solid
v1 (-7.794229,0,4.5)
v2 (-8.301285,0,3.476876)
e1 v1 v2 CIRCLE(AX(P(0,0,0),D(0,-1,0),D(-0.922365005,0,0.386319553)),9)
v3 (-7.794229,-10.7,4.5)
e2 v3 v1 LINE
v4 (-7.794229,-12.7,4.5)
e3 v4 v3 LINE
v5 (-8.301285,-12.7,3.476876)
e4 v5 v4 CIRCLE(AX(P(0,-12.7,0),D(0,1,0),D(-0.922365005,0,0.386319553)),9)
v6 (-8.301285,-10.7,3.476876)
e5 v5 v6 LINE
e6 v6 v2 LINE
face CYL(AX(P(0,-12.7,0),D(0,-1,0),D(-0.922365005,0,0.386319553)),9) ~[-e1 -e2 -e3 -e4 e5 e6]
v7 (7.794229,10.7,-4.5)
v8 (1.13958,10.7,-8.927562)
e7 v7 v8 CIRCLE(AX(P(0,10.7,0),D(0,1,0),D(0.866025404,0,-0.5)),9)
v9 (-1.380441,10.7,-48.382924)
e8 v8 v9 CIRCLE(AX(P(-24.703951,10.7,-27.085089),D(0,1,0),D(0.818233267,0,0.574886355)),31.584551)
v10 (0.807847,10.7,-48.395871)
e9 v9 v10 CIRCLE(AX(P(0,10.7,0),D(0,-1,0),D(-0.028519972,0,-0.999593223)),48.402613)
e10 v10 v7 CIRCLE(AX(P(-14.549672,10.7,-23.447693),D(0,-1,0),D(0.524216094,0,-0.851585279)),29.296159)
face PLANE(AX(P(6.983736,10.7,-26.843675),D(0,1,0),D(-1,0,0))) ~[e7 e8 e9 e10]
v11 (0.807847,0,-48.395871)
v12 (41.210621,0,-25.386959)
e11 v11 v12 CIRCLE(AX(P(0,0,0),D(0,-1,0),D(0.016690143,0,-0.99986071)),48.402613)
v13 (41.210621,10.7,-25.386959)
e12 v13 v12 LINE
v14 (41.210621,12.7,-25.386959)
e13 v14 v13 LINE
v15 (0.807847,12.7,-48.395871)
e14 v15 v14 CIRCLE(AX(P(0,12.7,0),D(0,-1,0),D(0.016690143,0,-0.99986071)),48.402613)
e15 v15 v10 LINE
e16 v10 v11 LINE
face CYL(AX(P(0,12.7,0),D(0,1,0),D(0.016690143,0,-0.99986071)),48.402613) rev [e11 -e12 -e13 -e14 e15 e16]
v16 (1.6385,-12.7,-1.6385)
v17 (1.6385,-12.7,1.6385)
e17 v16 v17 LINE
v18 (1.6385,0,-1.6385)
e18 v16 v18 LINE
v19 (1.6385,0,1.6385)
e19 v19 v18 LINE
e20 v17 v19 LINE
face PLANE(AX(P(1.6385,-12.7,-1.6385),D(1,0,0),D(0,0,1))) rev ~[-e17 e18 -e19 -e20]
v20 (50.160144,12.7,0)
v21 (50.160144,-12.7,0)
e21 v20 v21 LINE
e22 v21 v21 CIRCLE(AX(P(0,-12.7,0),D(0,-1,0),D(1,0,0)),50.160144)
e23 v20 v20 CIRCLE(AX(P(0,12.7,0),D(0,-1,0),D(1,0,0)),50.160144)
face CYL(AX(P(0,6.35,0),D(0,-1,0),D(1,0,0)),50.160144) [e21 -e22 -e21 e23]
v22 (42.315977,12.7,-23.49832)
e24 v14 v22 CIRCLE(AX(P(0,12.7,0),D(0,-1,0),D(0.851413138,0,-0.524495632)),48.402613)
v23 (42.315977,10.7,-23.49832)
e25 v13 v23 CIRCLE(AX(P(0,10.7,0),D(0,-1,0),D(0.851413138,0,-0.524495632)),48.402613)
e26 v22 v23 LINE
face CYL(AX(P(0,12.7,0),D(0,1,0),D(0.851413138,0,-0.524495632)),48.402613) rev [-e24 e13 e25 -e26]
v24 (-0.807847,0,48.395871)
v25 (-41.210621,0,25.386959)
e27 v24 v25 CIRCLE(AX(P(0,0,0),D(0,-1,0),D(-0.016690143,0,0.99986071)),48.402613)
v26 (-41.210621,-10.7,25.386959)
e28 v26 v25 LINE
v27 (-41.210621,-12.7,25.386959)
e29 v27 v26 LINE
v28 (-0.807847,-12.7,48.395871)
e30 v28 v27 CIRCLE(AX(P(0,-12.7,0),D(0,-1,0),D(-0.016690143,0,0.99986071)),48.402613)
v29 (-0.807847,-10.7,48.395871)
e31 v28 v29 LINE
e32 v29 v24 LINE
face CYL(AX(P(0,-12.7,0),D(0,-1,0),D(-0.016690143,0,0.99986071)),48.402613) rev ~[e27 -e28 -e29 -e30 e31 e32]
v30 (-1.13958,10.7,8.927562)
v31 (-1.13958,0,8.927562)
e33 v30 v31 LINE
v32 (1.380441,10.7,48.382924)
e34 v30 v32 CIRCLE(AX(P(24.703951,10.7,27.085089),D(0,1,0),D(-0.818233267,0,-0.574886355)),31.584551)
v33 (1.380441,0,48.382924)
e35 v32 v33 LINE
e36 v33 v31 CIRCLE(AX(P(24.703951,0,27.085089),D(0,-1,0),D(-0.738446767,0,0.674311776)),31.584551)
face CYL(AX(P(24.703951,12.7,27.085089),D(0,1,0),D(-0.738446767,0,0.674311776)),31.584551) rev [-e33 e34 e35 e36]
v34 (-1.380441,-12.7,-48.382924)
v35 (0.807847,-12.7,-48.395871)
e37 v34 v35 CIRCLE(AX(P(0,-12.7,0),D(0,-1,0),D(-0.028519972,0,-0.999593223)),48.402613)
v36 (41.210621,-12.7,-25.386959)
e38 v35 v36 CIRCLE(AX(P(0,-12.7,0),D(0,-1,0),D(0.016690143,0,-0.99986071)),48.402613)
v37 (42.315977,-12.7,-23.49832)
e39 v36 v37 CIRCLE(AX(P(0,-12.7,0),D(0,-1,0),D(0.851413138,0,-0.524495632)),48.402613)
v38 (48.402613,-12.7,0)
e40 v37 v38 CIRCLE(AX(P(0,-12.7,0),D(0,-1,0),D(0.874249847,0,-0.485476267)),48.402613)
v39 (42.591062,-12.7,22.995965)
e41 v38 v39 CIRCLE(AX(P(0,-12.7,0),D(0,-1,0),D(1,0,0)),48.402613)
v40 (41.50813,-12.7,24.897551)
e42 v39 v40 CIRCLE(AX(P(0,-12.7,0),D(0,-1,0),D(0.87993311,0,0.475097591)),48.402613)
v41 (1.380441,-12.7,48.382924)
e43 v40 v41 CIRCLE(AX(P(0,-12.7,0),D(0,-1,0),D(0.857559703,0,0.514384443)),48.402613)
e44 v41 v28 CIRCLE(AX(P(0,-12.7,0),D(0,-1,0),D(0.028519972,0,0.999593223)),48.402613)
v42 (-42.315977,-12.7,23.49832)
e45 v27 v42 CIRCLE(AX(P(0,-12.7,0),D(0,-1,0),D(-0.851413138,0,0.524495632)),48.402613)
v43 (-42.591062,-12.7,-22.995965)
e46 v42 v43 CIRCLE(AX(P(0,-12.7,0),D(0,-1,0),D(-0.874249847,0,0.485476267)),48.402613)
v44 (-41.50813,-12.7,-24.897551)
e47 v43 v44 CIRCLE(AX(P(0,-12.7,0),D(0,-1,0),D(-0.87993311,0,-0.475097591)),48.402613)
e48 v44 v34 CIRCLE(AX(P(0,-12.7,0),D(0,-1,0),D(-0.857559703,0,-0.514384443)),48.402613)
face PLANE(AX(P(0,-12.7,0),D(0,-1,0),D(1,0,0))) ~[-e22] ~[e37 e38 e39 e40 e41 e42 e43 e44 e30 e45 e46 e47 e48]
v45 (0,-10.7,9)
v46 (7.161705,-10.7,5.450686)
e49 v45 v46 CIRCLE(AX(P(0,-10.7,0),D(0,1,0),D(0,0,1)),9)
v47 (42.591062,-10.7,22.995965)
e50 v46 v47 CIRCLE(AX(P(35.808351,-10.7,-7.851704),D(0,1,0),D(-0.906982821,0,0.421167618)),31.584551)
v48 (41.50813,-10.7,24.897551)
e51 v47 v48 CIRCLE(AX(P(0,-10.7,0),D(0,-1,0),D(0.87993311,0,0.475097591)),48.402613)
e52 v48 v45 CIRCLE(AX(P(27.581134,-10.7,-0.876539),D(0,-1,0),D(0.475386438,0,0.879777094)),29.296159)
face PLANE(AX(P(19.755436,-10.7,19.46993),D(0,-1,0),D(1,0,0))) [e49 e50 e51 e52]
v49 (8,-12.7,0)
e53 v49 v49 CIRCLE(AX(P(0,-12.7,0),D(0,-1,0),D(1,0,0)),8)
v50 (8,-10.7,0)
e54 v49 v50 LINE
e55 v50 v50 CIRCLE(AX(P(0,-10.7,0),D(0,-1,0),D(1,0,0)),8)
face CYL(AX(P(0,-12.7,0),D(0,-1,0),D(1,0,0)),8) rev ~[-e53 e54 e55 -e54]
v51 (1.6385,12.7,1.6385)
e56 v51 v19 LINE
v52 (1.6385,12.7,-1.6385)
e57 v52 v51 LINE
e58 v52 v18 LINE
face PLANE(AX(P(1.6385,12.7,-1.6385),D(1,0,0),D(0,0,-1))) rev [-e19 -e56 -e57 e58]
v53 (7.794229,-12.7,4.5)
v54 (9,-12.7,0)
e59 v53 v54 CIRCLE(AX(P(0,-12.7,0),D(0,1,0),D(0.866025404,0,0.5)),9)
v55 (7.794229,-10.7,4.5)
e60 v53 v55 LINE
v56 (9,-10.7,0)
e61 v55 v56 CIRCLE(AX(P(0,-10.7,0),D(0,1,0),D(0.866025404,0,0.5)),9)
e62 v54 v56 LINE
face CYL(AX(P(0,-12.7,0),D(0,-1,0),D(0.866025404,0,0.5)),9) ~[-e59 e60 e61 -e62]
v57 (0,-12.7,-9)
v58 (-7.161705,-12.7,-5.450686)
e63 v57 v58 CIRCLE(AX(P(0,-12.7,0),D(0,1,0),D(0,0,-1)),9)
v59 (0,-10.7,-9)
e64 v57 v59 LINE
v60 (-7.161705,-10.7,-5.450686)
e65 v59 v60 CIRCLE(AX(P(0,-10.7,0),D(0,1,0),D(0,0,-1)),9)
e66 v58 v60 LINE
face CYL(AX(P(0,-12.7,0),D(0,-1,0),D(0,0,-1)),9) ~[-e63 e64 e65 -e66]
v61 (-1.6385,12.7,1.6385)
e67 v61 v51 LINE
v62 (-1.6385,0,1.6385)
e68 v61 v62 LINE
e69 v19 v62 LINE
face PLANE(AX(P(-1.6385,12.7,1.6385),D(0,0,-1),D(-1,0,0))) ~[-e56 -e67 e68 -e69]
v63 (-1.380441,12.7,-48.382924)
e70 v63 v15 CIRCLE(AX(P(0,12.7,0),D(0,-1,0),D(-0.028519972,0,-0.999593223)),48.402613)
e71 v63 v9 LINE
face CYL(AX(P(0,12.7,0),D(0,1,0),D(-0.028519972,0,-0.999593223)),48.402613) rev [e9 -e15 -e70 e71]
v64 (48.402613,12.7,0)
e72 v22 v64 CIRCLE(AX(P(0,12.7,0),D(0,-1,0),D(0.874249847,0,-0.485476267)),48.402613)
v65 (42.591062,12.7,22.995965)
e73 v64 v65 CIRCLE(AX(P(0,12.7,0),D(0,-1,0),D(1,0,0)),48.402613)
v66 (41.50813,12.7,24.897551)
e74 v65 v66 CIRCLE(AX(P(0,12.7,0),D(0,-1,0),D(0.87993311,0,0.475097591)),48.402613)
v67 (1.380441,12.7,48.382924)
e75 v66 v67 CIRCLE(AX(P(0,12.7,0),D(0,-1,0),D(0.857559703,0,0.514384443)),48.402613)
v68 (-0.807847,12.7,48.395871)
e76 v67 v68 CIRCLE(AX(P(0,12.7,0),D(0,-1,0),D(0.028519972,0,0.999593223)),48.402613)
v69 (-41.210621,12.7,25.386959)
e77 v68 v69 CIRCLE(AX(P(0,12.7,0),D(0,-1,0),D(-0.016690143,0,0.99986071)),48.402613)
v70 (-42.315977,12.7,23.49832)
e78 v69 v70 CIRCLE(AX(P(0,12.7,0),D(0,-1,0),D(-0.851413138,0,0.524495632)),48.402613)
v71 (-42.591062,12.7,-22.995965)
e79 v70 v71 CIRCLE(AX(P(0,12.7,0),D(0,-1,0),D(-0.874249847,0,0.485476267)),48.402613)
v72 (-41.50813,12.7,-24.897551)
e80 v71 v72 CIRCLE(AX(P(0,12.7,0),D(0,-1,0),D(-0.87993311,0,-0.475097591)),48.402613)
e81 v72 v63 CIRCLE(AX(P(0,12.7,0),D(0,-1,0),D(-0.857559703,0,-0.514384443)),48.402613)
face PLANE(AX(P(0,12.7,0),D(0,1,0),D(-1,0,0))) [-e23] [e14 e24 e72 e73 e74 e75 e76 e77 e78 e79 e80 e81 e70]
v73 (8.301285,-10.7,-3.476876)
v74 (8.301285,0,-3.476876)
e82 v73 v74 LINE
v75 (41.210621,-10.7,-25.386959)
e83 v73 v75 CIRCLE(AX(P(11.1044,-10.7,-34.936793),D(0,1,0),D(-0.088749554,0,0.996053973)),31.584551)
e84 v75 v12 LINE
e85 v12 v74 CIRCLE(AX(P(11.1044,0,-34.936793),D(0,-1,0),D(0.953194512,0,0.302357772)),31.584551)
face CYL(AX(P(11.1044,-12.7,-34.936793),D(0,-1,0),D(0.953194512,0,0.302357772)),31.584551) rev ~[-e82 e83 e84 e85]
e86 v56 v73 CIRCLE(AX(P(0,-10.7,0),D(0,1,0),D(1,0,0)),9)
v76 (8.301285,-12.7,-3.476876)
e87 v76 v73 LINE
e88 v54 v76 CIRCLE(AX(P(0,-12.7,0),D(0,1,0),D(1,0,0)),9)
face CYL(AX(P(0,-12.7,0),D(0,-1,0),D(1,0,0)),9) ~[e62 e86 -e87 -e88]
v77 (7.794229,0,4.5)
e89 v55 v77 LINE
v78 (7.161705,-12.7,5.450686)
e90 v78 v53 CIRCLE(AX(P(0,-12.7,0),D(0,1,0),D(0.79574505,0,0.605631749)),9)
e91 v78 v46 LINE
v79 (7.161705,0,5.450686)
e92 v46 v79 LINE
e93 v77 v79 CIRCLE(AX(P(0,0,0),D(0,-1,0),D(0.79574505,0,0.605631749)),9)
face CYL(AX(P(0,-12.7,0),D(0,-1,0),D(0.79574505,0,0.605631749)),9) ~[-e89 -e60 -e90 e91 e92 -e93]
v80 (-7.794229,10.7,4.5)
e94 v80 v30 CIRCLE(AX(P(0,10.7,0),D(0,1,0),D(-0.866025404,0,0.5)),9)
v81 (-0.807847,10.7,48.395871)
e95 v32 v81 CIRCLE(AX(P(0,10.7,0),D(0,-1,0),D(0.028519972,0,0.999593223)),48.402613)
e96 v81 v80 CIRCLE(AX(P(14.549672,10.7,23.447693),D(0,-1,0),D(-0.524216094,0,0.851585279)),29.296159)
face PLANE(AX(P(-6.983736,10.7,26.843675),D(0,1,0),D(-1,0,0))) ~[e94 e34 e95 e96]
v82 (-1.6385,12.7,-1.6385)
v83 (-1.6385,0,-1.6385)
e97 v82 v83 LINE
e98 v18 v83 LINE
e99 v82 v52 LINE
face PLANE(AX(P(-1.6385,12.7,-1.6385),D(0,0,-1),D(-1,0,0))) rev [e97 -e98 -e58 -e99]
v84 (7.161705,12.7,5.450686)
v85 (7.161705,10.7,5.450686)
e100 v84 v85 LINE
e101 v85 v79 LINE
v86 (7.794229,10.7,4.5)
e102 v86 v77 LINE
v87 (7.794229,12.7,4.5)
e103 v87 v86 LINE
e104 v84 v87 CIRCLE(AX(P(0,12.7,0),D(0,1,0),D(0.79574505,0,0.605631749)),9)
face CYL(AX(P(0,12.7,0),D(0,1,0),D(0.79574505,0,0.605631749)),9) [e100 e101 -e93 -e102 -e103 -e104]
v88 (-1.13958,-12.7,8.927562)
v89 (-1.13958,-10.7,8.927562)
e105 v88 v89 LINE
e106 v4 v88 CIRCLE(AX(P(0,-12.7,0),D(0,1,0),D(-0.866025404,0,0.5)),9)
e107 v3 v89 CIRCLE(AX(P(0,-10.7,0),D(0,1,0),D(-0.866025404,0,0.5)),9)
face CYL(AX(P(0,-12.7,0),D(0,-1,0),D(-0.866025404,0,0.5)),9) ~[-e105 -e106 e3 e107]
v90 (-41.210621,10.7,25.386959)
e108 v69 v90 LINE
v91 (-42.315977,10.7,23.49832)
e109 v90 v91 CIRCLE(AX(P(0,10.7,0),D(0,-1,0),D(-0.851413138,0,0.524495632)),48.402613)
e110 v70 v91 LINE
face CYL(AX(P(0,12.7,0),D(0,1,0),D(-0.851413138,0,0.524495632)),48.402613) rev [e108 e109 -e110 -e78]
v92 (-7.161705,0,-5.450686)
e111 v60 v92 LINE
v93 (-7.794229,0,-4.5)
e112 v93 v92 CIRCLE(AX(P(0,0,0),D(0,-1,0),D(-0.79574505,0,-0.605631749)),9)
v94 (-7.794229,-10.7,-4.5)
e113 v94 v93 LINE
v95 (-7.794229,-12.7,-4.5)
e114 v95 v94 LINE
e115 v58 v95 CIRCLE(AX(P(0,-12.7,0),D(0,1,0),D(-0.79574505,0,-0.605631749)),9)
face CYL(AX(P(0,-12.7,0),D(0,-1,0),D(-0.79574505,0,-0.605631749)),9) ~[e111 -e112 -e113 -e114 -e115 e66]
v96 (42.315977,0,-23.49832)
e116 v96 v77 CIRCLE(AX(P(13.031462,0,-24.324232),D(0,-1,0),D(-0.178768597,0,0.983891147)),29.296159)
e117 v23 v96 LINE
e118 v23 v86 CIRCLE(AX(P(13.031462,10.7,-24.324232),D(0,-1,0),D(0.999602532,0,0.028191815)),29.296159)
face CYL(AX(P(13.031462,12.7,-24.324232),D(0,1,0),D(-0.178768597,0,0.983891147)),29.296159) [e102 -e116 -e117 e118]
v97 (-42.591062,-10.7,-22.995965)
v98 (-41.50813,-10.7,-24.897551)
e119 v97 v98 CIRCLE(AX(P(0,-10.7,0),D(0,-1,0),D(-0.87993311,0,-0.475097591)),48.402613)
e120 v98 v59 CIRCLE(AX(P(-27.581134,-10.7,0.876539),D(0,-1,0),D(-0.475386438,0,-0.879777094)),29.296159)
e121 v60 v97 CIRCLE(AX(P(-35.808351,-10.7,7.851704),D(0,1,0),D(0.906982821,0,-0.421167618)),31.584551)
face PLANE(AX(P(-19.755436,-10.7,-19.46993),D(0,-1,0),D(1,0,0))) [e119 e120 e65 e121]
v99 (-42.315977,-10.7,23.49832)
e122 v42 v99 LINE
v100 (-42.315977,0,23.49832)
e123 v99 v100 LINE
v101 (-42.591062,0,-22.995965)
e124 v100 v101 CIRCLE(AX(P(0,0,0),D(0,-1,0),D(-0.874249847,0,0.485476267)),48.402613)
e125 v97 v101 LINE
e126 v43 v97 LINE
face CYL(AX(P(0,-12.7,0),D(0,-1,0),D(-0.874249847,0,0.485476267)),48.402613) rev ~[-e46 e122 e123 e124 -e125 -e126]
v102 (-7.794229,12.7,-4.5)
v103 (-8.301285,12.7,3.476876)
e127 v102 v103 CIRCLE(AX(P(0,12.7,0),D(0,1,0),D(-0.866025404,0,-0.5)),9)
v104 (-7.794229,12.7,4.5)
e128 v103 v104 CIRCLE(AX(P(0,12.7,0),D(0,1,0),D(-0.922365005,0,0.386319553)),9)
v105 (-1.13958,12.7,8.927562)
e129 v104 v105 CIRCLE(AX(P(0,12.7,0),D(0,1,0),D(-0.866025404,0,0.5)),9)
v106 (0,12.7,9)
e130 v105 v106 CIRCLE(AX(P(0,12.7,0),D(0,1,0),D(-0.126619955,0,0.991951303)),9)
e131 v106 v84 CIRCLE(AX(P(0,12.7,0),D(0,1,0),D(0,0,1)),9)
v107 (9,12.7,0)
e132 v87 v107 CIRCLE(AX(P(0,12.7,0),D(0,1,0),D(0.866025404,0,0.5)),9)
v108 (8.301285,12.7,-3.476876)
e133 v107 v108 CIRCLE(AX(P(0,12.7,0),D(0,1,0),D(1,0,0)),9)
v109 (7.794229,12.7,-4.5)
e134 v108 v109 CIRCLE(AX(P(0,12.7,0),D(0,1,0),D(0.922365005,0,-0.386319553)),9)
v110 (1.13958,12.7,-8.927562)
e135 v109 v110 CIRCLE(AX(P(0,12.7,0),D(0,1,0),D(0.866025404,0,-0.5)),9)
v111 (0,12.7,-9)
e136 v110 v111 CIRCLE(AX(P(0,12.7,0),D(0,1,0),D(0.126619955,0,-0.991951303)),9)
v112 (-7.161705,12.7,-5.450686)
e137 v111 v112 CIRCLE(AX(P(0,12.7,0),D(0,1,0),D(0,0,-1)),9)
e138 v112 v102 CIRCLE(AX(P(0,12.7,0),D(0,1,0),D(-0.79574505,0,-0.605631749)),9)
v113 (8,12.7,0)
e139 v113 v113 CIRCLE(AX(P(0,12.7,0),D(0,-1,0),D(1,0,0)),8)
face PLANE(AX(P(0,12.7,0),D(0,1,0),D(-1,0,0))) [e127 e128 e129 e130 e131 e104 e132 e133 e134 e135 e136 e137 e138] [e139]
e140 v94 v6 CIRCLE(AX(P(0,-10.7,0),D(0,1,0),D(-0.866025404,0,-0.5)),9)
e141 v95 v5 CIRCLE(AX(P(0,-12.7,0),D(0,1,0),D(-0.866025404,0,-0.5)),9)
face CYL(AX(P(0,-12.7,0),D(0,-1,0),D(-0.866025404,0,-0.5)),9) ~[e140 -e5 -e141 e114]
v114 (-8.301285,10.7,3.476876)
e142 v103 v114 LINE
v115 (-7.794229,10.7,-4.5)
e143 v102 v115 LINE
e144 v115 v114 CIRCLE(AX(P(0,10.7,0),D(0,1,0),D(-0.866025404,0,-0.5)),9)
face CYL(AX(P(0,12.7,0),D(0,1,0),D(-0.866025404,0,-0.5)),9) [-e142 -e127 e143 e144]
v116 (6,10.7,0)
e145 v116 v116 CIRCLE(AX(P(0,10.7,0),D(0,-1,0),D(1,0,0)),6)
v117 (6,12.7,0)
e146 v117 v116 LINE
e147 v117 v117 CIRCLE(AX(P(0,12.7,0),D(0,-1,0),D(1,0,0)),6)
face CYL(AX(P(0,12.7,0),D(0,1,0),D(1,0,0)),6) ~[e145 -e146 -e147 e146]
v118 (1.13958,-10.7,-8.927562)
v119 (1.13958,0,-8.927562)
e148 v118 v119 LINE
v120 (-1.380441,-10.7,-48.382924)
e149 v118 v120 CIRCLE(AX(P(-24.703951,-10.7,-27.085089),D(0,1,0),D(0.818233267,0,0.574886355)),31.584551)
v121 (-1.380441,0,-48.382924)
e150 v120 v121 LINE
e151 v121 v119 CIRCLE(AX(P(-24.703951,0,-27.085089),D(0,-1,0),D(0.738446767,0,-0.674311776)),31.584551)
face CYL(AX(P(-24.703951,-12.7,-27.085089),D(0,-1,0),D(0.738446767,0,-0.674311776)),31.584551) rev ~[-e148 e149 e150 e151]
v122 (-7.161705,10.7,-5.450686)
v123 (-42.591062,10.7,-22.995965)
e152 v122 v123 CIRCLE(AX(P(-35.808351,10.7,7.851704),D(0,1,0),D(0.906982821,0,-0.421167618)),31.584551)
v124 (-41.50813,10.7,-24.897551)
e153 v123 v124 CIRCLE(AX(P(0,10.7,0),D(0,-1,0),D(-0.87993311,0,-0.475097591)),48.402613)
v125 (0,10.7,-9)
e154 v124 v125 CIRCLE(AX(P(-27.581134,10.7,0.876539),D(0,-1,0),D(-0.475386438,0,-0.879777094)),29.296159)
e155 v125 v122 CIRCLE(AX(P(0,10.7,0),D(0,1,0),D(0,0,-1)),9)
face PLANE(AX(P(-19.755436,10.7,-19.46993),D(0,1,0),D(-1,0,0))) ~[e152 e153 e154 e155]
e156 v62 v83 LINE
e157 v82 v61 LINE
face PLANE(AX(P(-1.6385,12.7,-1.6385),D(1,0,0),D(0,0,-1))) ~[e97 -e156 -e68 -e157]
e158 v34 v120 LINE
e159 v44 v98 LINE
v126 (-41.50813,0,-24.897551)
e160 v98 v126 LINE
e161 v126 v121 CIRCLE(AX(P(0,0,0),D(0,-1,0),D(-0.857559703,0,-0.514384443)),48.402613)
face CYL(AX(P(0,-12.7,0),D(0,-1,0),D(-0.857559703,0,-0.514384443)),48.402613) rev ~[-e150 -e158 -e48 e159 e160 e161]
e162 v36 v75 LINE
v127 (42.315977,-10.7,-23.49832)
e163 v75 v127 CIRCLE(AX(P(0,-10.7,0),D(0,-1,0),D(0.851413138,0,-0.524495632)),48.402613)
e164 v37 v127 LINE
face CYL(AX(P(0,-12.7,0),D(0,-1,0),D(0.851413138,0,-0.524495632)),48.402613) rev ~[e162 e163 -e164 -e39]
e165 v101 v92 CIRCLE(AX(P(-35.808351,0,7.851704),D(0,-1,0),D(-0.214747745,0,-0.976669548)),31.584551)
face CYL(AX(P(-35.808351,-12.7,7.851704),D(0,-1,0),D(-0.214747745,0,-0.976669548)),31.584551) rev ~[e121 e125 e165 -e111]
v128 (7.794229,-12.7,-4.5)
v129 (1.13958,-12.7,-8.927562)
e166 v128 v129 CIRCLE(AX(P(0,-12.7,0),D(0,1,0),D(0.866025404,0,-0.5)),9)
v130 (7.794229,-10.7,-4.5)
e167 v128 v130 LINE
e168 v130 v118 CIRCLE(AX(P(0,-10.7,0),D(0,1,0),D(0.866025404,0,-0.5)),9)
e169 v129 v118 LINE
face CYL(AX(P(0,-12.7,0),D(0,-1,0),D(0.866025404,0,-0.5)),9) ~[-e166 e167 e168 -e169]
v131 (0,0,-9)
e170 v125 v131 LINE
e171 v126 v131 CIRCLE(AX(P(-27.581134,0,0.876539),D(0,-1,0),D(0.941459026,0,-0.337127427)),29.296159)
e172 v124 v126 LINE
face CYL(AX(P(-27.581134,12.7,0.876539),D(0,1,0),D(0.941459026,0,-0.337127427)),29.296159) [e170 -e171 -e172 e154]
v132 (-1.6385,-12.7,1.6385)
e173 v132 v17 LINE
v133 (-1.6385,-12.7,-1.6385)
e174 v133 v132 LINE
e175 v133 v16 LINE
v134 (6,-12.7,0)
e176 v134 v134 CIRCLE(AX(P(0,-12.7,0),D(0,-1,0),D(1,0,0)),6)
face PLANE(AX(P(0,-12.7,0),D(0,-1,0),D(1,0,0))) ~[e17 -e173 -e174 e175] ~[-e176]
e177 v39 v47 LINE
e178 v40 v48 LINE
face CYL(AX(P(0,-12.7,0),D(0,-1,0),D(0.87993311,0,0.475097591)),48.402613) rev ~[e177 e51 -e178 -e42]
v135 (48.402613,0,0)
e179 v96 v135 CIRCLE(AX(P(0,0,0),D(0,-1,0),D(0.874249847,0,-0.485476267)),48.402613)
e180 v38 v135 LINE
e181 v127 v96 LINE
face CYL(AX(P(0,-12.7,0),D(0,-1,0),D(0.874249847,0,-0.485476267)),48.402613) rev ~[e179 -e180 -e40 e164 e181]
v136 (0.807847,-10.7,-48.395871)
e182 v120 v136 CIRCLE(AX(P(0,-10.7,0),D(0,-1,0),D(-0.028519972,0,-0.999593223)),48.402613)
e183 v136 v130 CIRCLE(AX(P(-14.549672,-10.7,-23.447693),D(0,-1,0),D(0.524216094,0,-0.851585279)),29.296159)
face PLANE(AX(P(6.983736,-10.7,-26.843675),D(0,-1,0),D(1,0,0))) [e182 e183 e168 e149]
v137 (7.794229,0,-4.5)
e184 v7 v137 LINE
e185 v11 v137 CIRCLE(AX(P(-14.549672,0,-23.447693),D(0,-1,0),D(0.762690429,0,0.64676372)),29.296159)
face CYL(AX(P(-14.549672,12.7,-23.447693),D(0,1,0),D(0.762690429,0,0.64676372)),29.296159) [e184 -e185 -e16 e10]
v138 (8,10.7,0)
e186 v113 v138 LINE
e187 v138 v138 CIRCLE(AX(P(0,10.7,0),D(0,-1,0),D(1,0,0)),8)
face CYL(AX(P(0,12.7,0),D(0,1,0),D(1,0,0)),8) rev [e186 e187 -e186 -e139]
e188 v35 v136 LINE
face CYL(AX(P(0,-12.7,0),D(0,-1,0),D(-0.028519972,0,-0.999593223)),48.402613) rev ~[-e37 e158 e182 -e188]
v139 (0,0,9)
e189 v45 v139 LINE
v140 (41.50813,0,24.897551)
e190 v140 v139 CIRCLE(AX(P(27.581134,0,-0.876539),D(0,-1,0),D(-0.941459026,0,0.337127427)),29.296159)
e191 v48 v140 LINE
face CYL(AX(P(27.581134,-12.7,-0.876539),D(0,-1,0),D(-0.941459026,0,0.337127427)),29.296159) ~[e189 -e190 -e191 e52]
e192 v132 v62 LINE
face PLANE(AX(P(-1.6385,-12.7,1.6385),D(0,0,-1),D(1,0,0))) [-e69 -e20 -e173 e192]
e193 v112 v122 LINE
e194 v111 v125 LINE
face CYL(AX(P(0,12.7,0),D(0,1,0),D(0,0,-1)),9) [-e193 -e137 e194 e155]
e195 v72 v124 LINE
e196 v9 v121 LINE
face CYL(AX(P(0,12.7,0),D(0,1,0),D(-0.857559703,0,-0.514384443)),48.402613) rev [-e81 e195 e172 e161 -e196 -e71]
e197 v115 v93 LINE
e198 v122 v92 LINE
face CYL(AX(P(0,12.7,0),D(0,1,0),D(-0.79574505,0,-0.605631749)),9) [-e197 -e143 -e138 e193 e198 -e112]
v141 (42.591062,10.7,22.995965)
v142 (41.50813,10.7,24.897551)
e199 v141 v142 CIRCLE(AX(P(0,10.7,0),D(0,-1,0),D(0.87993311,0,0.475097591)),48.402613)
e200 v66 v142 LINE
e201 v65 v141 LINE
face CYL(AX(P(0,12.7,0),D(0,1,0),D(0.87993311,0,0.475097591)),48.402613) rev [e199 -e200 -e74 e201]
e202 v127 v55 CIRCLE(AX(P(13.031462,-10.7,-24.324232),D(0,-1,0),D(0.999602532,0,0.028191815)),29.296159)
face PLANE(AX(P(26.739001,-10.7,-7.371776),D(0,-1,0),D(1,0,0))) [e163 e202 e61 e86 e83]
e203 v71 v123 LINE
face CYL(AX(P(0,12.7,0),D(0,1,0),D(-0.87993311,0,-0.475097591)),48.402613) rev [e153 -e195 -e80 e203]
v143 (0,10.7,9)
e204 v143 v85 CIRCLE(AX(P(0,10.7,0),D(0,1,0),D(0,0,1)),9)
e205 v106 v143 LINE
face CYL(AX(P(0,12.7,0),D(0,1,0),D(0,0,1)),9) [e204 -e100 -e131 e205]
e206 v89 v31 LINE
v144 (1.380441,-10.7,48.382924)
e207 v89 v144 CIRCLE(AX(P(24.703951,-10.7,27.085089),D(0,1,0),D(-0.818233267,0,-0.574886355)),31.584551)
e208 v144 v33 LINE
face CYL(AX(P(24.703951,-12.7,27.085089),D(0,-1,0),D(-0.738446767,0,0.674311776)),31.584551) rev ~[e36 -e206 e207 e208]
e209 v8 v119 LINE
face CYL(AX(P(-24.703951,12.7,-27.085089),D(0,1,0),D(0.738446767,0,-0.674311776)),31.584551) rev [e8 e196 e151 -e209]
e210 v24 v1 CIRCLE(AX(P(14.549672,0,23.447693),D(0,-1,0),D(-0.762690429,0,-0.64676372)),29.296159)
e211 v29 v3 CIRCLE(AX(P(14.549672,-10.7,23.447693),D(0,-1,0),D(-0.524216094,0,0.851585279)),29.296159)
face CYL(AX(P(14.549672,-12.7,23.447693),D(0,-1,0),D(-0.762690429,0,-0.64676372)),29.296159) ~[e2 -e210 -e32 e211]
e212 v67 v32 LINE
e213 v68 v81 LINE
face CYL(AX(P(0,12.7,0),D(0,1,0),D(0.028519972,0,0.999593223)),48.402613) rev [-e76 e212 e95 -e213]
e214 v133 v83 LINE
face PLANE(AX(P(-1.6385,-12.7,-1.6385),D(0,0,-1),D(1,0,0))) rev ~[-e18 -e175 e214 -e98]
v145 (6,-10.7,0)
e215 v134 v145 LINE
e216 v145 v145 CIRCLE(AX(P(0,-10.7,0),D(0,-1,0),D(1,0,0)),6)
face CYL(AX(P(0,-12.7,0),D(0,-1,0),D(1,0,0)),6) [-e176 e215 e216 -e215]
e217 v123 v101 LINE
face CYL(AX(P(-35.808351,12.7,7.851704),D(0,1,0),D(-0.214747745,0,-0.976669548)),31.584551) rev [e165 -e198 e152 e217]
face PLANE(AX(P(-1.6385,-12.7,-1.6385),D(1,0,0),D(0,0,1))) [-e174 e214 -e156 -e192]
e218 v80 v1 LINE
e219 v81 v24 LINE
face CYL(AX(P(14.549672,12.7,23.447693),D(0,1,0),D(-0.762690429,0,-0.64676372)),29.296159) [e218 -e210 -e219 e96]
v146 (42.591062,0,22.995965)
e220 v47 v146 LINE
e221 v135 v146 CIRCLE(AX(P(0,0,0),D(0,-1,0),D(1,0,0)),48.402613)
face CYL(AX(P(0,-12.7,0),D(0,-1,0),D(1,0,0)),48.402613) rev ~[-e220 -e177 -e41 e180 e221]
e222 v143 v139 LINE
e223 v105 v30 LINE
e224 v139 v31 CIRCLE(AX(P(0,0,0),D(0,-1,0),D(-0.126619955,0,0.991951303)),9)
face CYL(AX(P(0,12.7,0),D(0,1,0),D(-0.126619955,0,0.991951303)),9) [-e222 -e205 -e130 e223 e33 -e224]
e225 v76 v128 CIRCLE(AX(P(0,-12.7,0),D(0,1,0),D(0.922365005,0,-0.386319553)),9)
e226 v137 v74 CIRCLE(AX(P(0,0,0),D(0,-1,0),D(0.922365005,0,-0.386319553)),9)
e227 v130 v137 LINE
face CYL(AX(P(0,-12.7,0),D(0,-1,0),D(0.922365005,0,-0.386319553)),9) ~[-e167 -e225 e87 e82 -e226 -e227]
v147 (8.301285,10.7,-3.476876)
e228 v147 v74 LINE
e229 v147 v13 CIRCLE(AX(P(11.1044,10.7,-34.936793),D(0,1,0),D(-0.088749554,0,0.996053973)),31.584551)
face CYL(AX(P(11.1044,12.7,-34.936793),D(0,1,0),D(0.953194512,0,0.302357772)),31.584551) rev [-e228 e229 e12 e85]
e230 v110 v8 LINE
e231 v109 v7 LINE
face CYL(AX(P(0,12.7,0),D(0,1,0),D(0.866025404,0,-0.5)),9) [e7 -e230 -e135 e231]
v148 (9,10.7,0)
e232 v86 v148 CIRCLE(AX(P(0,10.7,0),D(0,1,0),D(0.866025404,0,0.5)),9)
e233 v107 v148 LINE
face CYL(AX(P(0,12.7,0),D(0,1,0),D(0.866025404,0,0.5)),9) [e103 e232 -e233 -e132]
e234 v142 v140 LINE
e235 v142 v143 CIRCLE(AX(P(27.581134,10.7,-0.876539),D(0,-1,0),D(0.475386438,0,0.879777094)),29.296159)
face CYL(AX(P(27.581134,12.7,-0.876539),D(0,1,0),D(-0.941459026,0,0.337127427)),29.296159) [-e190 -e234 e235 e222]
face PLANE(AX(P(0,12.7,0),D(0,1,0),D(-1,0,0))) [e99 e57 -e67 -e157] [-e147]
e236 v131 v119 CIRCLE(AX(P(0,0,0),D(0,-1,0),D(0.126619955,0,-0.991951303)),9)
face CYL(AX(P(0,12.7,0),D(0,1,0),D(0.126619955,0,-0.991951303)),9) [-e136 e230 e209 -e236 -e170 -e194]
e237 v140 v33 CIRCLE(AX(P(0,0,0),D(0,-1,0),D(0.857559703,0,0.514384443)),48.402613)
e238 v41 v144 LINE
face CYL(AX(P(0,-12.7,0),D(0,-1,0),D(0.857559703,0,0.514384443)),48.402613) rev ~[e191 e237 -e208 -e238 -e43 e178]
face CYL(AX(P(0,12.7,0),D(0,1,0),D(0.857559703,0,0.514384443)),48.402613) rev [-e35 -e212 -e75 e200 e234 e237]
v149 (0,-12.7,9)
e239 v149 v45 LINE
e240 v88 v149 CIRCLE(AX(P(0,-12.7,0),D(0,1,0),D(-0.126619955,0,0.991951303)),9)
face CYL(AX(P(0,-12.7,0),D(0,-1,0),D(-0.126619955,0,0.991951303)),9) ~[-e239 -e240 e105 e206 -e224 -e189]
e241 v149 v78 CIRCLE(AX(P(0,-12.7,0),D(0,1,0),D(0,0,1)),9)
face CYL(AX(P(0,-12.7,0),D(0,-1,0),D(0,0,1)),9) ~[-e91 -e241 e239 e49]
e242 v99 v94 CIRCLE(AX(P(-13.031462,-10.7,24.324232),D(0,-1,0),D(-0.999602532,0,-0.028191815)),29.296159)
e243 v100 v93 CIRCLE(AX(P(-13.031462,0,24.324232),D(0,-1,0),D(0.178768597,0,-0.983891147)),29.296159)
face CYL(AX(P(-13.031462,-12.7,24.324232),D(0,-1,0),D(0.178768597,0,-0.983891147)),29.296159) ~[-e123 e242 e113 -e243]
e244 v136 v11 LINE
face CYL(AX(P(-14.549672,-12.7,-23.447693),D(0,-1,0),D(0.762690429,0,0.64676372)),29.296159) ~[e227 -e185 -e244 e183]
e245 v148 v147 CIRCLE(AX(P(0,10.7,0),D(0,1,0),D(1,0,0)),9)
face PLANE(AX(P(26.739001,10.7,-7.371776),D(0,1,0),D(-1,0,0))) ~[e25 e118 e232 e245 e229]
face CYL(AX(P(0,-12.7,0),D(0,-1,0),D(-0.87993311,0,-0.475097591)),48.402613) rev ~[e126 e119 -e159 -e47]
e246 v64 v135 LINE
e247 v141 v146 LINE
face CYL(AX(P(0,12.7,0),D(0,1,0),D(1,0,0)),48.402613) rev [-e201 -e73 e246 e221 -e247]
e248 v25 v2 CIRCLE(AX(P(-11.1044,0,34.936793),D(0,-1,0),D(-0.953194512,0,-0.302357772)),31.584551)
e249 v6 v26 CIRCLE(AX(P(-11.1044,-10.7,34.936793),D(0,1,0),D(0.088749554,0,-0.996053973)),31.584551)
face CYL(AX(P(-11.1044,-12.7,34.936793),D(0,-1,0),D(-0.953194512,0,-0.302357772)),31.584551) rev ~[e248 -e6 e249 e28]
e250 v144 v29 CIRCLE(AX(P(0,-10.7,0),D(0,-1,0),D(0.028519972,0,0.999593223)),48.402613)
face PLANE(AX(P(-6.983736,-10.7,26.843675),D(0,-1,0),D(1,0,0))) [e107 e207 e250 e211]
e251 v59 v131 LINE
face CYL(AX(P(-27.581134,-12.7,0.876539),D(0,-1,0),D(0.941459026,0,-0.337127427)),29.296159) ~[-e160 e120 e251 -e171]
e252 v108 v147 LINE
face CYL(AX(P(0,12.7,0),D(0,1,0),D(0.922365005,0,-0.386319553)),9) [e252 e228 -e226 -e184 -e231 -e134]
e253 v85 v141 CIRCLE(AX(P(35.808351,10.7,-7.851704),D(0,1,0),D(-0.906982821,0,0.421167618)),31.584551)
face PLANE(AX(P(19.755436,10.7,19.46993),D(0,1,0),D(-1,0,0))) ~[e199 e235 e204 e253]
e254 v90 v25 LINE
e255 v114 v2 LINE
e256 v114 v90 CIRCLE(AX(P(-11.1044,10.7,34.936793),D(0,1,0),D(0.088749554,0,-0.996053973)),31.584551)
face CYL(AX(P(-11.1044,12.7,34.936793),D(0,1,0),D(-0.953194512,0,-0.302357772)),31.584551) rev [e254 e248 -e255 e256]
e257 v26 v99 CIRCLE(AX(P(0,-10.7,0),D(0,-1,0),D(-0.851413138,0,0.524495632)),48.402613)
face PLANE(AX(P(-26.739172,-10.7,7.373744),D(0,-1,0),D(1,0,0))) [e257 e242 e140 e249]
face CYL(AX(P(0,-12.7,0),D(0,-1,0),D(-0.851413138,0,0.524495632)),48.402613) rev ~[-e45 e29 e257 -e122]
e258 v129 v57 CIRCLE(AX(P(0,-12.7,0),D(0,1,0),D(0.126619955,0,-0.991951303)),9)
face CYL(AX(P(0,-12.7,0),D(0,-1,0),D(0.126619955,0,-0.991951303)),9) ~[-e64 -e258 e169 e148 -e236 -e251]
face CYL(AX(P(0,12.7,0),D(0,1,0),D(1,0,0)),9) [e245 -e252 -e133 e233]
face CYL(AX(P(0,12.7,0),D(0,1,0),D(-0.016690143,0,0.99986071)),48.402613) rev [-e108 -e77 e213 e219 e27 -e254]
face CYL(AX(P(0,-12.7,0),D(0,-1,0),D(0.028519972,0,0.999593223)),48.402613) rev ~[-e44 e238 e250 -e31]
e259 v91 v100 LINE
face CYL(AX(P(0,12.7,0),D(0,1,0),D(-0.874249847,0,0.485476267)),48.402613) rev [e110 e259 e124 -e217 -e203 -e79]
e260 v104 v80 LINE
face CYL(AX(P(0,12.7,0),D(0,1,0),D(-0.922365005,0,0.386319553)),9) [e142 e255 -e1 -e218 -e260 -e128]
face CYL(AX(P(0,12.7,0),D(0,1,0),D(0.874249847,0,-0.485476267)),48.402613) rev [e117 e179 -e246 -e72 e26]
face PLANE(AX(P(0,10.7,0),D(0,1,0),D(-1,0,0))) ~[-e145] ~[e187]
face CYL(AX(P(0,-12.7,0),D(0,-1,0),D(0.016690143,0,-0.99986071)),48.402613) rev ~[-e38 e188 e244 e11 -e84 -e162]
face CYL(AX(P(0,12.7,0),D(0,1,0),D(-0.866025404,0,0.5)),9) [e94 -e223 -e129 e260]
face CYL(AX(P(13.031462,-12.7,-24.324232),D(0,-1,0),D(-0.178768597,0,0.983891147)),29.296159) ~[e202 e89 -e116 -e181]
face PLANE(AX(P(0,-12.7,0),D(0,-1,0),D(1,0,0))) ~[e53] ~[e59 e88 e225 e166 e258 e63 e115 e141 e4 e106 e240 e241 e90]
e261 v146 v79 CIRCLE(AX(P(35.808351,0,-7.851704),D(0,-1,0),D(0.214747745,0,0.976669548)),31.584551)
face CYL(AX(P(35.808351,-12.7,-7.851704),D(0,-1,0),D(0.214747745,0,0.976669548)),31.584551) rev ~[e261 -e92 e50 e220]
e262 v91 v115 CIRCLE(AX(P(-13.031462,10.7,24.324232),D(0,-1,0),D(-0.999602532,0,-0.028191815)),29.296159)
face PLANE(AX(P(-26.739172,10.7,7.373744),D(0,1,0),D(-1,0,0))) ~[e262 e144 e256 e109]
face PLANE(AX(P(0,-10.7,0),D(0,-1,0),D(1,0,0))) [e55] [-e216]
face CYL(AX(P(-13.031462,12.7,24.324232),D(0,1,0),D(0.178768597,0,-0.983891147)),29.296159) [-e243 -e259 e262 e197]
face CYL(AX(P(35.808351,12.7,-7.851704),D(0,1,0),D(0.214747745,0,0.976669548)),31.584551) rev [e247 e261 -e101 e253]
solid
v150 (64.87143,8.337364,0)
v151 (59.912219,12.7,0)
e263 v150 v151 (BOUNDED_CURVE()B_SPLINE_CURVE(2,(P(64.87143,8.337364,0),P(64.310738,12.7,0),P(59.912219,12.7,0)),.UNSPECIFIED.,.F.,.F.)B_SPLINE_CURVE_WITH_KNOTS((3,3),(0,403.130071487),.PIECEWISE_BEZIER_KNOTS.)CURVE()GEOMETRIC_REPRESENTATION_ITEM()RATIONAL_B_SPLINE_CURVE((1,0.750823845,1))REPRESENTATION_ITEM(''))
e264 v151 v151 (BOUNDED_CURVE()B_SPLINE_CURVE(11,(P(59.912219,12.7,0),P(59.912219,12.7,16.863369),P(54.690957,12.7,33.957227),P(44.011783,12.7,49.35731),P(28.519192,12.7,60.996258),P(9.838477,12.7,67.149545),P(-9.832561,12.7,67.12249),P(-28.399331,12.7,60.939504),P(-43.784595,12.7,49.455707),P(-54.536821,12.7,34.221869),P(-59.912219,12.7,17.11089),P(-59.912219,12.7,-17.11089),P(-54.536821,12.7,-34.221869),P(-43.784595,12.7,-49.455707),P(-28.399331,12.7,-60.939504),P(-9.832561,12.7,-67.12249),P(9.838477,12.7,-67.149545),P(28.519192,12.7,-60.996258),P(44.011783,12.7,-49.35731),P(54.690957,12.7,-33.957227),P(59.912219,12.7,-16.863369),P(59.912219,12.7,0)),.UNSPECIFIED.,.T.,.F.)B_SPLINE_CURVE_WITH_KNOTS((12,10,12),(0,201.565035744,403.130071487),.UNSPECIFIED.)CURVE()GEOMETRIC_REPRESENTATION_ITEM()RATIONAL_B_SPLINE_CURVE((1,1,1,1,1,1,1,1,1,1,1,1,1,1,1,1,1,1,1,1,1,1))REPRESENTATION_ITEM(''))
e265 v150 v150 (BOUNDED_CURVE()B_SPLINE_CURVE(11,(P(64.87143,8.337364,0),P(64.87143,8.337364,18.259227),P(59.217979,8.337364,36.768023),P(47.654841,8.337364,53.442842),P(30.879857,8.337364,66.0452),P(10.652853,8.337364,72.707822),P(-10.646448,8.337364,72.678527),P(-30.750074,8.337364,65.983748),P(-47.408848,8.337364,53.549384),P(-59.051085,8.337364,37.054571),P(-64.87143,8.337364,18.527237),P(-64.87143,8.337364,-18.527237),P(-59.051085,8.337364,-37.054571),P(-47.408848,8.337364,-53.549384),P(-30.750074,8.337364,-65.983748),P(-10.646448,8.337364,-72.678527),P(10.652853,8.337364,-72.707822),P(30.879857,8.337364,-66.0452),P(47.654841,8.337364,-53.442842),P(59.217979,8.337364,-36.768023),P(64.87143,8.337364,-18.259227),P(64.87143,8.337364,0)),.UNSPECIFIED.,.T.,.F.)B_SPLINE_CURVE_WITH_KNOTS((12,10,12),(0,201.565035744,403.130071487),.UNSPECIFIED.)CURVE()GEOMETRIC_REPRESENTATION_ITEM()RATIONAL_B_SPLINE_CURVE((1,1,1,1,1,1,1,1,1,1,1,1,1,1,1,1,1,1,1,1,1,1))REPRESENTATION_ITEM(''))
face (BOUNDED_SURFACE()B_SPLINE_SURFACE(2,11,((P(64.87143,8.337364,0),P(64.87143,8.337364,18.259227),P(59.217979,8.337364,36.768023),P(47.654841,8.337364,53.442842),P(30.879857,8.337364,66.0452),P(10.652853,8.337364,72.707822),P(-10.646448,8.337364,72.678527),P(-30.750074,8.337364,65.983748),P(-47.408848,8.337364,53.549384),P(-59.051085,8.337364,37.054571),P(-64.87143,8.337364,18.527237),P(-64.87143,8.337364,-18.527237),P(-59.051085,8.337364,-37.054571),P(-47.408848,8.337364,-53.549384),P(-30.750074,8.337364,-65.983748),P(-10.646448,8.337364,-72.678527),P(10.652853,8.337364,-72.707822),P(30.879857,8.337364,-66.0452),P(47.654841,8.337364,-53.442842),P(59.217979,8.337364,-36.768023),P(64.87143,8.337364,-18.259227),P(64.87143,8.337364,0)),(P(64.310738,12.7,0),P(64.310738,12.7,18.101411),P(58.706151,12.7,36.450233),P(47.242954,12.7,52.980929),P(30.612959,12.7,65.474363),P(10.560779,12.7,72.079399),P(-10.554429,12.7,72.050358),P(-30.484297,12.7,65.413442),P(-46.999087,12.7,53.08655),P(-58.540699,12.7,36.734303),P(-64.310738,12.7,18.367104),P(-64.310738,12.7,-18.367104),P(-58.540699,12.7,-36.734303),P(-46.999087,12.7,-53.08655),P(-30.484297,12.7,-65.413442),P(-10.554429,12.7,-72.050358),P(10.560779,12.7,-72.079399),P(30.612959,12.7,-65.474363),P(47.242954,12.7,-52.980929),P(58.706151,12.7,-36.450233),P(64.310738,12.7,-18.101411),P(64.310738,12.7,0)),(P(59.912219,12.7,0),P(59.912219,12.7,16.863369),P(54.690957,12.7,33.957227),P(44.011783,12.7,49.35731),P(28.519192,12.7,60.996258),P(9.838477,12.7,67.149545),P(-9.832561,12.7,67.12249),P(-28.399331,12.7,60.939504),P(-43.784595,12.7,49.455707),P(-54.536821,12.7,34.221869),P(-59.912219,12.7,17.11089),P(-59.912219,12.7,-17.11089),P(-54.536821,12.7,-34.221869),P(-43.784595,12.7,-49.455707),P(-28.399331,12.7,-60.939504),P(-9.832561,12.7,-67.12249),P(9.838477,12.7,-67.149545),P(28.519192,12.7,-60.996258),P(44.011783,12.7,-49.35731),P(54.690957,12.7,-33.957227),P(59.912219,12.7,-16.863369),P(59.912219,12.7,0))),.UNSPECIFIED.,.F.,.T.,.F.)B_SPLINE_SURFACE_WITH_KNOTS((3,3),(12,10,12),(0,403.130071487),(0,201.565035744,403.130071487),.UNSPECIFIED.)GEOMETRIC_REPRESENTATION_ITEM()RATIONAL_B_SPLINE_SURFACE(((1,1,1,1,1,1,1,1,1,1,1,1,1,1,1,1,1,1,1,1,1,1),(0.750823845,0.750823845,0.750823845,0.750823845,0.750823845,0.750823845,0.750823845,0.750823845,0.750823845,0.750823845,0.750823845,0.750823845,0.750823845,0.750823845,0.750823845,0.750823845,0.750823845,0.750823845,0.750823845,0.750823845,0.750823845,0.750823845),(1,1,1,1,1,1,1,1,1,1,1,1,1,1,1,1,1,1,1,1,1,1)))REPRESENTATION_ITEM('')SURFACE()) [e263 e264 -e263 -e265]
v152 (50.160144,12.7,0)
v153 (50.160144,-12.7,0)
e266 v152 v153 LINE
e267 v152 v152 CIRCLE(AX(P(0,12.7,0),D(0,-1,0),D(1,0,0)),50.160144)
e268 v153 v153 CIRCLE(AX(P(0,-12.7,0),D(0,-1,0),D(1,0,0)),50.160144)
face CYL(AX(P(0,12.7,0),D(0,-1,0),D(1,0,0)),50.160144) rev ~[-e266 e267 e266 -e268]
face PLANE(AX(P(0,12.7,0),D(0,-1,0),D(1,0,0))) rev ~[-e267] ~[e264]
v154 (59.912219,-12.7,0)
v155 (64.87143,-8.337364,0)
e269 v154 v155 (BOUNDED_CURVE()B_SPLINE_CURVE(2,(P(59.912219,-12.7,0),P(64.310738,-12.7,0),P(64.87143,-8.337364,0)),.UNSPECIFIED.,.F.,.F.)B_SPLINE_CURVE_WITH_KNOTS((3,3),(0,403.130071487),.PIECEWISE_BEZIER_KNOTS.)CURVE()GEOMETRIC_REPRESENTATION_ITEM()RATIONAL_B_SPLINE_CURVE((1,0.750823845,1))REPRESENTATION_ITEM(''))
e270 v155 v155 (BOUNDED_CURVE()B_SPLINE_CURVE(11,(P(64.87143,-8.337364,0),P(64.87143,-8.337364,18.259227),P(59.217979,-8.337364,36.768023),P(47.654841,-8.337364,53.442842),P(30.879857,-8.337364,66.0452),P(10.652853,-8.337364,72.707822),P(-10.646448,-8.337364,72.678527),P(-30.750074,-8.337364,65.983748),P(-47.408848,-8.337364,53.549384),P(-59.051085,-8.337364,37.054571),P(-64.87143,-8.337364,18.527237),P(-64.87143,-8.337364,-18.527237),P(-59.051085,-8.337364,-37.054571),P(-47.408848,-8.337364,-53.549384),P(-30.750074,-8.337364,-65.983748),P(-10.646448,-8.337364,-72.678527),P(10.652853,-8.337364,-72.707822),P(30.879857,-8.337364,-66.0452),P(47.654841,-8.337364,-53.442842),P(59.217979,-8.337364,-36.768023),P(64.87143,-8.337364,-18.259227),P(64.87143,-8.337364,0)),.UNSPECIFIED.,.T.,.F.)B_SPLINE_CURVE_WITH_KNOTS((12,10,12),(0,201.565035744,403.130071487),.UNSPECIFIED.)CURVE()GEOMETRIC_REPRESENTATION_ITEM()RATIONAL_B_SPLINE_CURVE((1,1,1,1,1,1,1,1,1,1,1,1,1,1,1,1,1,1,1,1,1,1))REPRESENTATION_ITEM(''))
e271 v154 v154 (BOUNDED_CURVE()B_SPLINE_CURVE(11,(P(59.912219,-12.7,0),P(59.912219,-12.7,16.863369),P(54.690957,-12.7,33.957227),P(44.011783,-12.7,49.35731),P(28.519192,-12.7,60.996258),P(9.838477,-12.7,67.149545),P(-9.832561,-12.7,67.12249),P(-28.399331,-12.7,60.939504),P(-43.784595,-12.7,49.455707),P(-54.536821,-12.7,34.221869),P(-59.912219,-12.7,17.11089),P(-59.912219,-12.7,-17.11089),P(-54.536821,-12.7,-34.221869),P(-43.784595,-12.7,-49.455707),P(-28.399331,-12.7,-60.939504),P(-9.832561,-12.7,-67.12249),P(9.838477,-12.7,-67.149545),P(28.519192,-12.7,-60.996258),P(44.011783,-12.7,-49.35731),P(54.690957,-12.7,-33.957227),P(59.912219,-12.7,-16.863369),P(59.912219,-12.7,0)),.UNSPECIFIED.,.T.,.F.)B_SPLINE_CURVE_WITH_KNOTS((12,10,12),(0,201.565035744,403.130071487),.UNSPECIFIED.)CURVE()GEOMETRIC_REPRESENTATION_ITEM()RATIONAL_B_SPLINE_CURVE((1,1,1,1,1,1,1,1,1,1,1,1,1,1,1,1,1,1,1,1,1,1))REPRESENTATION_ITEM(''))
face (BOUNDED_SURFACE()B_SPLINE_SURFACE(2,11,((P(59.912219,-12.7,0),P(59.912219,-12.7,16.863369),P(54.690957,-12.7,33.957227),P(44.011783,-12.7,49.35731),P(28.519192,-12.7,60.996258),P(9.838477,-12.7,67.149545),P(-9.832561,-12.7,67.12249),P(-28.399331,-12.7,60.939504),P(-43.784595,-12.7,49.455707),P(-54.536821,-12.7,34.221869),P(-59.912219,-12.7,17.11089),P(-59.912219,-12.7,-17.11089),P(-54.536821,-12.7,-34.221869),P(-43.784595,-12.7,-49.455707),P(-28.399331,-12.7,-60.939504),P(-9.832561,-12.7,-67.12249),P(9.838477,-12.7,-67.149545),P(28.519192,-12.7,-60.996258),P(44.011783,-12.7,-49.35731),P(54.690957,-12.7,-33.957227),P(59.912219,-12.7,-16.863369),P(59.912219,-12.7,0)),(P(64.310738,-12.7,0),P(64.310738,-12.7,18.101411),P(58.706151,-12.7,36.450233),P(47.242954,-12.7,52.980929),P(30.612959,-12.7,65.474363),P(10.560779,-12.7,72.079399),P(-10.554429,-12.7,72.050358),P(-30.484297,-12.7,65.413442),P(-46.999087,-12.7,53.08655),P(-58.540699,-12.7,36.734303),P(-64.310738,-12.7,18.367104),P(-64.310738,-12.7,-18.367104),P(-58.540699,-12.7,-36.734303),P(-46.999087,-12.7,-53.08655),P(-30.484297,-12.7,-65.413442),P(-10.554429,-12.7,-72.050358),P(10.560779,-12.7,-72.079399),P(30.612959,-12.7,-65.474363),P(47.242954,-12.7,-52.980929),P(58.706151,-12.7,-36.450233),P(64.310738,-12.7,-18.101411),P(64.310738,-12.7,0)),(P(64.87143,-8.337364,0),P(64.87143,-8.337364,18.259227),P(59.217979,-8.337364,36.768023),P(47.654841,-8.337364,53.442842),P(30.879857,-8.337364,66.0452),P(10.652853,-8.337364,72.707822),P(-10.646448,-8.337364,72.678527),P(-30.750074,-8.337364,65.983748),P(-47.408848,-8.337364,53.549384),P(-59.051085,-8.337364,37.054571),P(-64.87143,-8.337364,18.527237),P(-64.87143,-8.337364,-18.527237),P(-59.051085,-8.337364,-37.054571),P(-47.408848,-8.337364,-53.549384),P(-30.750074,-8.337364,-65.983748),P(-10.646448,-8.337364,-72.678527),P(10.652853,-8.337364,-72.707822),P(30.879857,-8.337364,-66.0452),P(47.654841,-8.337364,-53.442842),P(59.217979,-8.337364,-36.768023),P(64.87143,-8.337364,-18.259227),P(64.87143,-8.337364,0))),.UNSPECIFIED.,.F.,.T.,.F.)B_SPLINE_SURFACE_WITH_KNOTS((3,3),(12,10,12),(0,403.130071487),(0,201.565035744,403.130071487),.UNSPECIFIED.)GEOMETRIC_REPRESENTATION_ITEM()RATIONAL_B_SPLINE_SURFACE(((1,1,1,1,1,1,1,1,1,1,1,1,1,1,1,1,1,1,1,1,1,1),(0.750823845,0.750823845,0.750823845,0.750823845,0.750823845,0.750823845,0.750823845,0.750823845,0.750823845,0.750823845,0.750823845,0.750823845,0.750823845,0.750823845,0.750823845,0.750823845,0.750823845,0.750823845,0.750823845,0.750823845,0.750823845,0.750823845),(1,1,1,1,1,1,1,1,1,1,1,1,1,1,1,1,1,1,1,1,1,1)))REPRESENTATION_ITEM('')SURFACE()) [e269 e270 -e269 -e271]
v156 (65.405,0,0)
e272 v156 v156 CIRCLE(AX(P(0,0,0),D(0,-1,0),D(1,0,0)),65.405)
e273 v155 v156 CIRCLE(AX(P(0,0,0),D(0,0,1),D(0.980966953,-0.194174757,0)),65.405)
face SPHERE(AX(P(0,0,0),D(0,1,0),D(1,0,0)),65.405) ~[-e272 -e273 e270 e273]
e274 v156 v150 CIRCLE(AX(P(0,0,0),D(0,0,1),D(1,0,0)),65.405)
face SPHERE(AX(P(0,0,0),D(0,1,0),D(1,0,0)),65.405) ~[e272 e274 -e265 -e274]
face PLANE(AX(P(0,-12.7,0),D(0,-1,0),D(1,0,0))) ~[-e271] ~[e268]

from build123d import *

# Parameters (mm, degrees)
F2_R     = 5
F0_W     = 50.1601435862
F0_H     = 12.7
F4_W     = 3.277
F4_H     = 3.277
F5_DEPTH = 500
F4_R     = 8
F4_R_2   = 6
F6_DEPTH = 2


with BuildPart() as f1:
    # F0 (on Top) → F1 (revolve)
    with BuildSketch(Plane.XY):
        with BuildLine():
            Line((50.1601435862, 0), (65.405, 0))
            ThreePointArc((65.405, 0), (65.0930419333, 6.3804323421), (64.1601435862, 12.7))
            Line((64.1601435862, 12.7), (50.1601435862, 12.7))
            Line((50.1601435862, 12.7), (50.1601435862, 0))
        make_face()
        with BuildLine():
            ThreePointArc((64.1601435862, -12.7), (65.0930419333, -6.3804323422), (65.405, 0))
            Line((65.405, 0), (50.1601435862, 0))
            Line((50.1601435862, 0), (50.1601435862, -12.7))
            Line((50.1601435862, -12.7), (64.1601435862, -12.7))
        make_face()
    revolve(axis=Axis((0, -6.35, 0), (0, -1, 0)))

    # F2
    f2_edges = [f1.edges().sort_by_distance(p)[0] for p in [
        (-64.160144, -12.7, 0),
        (-64.160144, 12.7, 0),
    ]]
    fillet(f2_edges, radius=F2_R)


with BuildPart() as f3:
    # F0 (on Top) → F3 (revolve)
    with BuildSketch(Plane.XY):
        with Locations((25.0800717931, -6.35)):
            Rectangle(F0_W, F0_H)
    revolve(axis=Axis((0, -6.35, 0), (0, -1, 0)))

    # F4 (on face) → F5 (cut)
    with BuildSketch(Plane.XZ.offset(12.7)):
        with BuildLine():
            ThreePointArc((42.3159769035, -23.4983198269), (46.8562524415, -12.1369083017), (48.4026129045, 0))
            ThreePointArc((48.4026129045, 0), (46.9272394774, 11.8594743148), (42.5910617265, 22.9959647981))
            ThreePointArc((42.5910617265, 22.9959647981), (21.7916781398, 20.4523016224), (7.1617054482, 5.4506857434))
            ThreePointArc((7.1617054482, 5.4506857434), (7.493059583, 4.9853844472), (7.7942286341, 4.5))
            ThreePointArc((7.7942286341, 4.5), (31.4853075274, -1.5707588033), (42.3159769035, -23.4983198269))
        make_face()
        with BuildLine():
            ThreePointArc((0, 9), (17.1029707906, 26.481696763), (41.5081303681, 24.897551071))
            ThreePointArc((41.5081303681, 24.897551071), (24.4488869971, 41.7739734834), (1.3804411636, 48.3829238284))
            ThreePointArc((1.3804411636, 48.3829238284), (-6.8163737009, 29.0982976714), (-1.1395795977, 8.9275617243))
            ThreePointArc((-1.1395795977, 8.9275617243), (-0.5709397874, 8.9818721745), (0, 9))
        make_face()
        with BuildLine():
            ThreePointArc((-7.7942286341, 4.5), (-14.3823367368, 28.0524555663), (-0.8078465354, 48.3958708979))
            ThreePointArc((-0.8078465354, 48.3958708979), (-23.9528787551, 42.0603439754), (-41.2106205629, 25.3869590303))
            ThreePointArc((-41.2106205629, 25.3869590303), (-28.6080518407, 8.645996049), (-8.3012850459, 3.4768759809))
            ThreePointArc((-8.3012850459, 3.4768759809), (-8.0639993704, 3.9964877273), (-7.7942286341, 4.5))
        make_face()
        with BuildLine():
            ThreePointArc((-7.7942286341, -4.5), (-31.4853075274, 1.5707588033), (-42.3159769035, 23.4983198269))
            ThreePointArc((-42.3159769035, 23.4983198269), (-48.4017657522, 0.286370492), (-42.5910617265, -22.9959647981))
            ThreePointArc((-42.5910617265, -22.9959647981), (-21.7916781398, -20.4523016224), (-7.1617054482, -5.4506857434))
            ThreePointArc((-7.1617054482, -5.4506857434), (-7.493059583, -4.9853844472), (-7.7942286341, -4.5))
        make_face()
        with BuildLine():
            ThreePointArc((-41.5081303681, -24.897551071), (-24.4488869971, -41.7739734834), (-1.3804411636, -48.3829238284))
            ThreePointArc((-1.3804411636, -48.3829238284), (6.8163737009, -29.0982976714), (1.1395795977, -8.9275617243))
            ThreePointArc((1.1395795977, -8.9275617243), (0.5709397874, -8.9818721745), (0, -9))
            ThreePointArc((0, -9), (-17.1029707906, -26.481696763), (-41.5081303681, -24.897551071))
        make_face()
        with BuildLine():
            ThreePointArc((0.8078465354, -48.3958708979), (23.9528787551, -42.0603439754), (41.2106205629, -25.3869590303))
            ThreePointArc((41.2106205629, -25.3869590303), (28.6080518407, -8.645996049), (8.3012850459, -3.4768759809))
            ThreePointArc((8.3012850459, -3.4768759809), (8.0639993704, -3.9964877273), (7.7942286341, -4.5))
            ThreePointArc((7.7942286341, -4.5), (14.3823367368, -28.0524555663), (0.8078465354, -48.3958708979))
        make_face()
        Rectangle(F4_W, F4_H)
    extrude(amount=-F5_DEPTH, mode=Mode.SUBTRACT)

    # F4 (on face) → F6 (cut)
    with BuildSketch(Plane.XZ.offset(12.7)):
        Circle(F4_R)
        Circle(F4_R_2, mode=Mode.SUBTRACT)
        with BuildLine():
            ThreePointArc((-1.1395795977, 8.9275617243), (-6.8163737009, 29.0982976714), (1.3804411636, 48.3829238284))
            ThreePointArc((1.3804411636, 48.3829238284), (0.286370492, 48.4017657522), (-0.8078465354, 48.3958708979))
            ThreePointArc((-0.8078465354, 48.3958708979), (-14.3823367368, 28.0524555663), (-7.7942286341, 4.5))
            ThreePointArc((-7.7942286341, 4.5), (-4.9853844472, 7.493059583), (-1.1395795977, 8.9275617243))
        make_face()
        with BuildLine():
            ThreePointArc((-8.3012850459, 3.4768759809), (-28.6080518407, 8.645996049), (-41.2106205629, 25.3869590303))
            ThreePointArc((-41.2106205629, 25.3869590303), (-41.7739734834, 24.4488869971), (-42.3159769035, 23.4983198269))
            ThreePointArc((-42.3159769035, 23.4983198269), (-31.4853075274, 1.5707588033), (-7.7942286341, -4.5))
            ThreePointArc((-7.7942286341, -4.5), (-8.9818721745, -0.5709397874), (-8.3012850459, 3.4768759809))
        make_face()
        with BuildLine():
            ThreePointArc((-42.5910617265, -22.9959647981), (-42.0603439754, -23.9528787551), (-41.5081303681, -24.897551071))
            ThreePointArc((-41.5081303681, -24.897551071), (-17.1029707906, -26.481696763), (0, -9))
            ThreePointArc((0, -9), (-3.9964877273, -8.0639993704), (-7.1617054482, -5.4506857434))
            ThreePointArc((-7.1617054482, -5.4506857434), (-21.7916781398, -20.4523016224), (-42.5910617265, -22.9959647981))
        make_face()
        with BuildLine():
            ThreePointArc((-1.3804411636, -48.3829238284), (-0.286370492, -48.4017657522), (0.8078465354, -48.3958708979))
            ThreePointArc((0.8078465354, -48.3958708979), (14.3823367368, -28.0524555663), (7.7942286341, -4.5))
            ThreePointArc((7.7942286341, -4.5), (4.9853844472, -7.493059583), (1.1395795977, -8.9275617243))
            ThreePointArc((1.1395795977, -8.9275617243), (6.8163737009, -29.0982976714), (-1.3804411636, -48.3829238284))
        make_face()
        with BuildLine():
            ThreePointArc((41.2106205629, -25.3869590303), (41.7739734834, -24.4488869971), (42.3159769035, -23.4983198269))
            ThreePointArc((42.3159769035, -23.4983198269), (31.4853075274, -1.5707588033), (7.7942286341, 4.5))
            ThreePointArc((7.7942286341, 4.5), (8.6933324366, 2.3293714059), (9, 0))
            ThreePointArc((9, 0), (8.8235923924, -1.7731940935), (8.3012850459, -3.4768759809))
            ThreePointArc((8.3012850459, -3.4768759809), (28.6080518407, -8.645996049), (41.2106205629, -25.3869590303))
        make_face()
        with BuildLine():
            ThreePointArc((7.1617054482, 5.4506857434), (21.7916781398, 20.4523016224), (42.5910617265, 22.9959647981))
            ThreePointArc((42.5910617265, 22.9959647981), (42.0603439754, 23.9528787551), (41.5081303681, 24.897551071))
            ThreePointArc((41.5081303681, 24.897551071), (17.1029707906, 26.481696763), (0, 9))
            ThreePointArc((0, 9), (3.9964877273, 8.0639993704), (7.1617054482, 5.4506857434))
        make_face()
    extrude(amount=-F6_DEPTH, mode=Mode.SUBTRACT)

    # F7: F3 across plane


with BuildPart() as f3_1:
    add(f3.part)
    add(f3.part.mirror(Plane.XZ))


solid = Compound([f1.part, f3_1.part])
